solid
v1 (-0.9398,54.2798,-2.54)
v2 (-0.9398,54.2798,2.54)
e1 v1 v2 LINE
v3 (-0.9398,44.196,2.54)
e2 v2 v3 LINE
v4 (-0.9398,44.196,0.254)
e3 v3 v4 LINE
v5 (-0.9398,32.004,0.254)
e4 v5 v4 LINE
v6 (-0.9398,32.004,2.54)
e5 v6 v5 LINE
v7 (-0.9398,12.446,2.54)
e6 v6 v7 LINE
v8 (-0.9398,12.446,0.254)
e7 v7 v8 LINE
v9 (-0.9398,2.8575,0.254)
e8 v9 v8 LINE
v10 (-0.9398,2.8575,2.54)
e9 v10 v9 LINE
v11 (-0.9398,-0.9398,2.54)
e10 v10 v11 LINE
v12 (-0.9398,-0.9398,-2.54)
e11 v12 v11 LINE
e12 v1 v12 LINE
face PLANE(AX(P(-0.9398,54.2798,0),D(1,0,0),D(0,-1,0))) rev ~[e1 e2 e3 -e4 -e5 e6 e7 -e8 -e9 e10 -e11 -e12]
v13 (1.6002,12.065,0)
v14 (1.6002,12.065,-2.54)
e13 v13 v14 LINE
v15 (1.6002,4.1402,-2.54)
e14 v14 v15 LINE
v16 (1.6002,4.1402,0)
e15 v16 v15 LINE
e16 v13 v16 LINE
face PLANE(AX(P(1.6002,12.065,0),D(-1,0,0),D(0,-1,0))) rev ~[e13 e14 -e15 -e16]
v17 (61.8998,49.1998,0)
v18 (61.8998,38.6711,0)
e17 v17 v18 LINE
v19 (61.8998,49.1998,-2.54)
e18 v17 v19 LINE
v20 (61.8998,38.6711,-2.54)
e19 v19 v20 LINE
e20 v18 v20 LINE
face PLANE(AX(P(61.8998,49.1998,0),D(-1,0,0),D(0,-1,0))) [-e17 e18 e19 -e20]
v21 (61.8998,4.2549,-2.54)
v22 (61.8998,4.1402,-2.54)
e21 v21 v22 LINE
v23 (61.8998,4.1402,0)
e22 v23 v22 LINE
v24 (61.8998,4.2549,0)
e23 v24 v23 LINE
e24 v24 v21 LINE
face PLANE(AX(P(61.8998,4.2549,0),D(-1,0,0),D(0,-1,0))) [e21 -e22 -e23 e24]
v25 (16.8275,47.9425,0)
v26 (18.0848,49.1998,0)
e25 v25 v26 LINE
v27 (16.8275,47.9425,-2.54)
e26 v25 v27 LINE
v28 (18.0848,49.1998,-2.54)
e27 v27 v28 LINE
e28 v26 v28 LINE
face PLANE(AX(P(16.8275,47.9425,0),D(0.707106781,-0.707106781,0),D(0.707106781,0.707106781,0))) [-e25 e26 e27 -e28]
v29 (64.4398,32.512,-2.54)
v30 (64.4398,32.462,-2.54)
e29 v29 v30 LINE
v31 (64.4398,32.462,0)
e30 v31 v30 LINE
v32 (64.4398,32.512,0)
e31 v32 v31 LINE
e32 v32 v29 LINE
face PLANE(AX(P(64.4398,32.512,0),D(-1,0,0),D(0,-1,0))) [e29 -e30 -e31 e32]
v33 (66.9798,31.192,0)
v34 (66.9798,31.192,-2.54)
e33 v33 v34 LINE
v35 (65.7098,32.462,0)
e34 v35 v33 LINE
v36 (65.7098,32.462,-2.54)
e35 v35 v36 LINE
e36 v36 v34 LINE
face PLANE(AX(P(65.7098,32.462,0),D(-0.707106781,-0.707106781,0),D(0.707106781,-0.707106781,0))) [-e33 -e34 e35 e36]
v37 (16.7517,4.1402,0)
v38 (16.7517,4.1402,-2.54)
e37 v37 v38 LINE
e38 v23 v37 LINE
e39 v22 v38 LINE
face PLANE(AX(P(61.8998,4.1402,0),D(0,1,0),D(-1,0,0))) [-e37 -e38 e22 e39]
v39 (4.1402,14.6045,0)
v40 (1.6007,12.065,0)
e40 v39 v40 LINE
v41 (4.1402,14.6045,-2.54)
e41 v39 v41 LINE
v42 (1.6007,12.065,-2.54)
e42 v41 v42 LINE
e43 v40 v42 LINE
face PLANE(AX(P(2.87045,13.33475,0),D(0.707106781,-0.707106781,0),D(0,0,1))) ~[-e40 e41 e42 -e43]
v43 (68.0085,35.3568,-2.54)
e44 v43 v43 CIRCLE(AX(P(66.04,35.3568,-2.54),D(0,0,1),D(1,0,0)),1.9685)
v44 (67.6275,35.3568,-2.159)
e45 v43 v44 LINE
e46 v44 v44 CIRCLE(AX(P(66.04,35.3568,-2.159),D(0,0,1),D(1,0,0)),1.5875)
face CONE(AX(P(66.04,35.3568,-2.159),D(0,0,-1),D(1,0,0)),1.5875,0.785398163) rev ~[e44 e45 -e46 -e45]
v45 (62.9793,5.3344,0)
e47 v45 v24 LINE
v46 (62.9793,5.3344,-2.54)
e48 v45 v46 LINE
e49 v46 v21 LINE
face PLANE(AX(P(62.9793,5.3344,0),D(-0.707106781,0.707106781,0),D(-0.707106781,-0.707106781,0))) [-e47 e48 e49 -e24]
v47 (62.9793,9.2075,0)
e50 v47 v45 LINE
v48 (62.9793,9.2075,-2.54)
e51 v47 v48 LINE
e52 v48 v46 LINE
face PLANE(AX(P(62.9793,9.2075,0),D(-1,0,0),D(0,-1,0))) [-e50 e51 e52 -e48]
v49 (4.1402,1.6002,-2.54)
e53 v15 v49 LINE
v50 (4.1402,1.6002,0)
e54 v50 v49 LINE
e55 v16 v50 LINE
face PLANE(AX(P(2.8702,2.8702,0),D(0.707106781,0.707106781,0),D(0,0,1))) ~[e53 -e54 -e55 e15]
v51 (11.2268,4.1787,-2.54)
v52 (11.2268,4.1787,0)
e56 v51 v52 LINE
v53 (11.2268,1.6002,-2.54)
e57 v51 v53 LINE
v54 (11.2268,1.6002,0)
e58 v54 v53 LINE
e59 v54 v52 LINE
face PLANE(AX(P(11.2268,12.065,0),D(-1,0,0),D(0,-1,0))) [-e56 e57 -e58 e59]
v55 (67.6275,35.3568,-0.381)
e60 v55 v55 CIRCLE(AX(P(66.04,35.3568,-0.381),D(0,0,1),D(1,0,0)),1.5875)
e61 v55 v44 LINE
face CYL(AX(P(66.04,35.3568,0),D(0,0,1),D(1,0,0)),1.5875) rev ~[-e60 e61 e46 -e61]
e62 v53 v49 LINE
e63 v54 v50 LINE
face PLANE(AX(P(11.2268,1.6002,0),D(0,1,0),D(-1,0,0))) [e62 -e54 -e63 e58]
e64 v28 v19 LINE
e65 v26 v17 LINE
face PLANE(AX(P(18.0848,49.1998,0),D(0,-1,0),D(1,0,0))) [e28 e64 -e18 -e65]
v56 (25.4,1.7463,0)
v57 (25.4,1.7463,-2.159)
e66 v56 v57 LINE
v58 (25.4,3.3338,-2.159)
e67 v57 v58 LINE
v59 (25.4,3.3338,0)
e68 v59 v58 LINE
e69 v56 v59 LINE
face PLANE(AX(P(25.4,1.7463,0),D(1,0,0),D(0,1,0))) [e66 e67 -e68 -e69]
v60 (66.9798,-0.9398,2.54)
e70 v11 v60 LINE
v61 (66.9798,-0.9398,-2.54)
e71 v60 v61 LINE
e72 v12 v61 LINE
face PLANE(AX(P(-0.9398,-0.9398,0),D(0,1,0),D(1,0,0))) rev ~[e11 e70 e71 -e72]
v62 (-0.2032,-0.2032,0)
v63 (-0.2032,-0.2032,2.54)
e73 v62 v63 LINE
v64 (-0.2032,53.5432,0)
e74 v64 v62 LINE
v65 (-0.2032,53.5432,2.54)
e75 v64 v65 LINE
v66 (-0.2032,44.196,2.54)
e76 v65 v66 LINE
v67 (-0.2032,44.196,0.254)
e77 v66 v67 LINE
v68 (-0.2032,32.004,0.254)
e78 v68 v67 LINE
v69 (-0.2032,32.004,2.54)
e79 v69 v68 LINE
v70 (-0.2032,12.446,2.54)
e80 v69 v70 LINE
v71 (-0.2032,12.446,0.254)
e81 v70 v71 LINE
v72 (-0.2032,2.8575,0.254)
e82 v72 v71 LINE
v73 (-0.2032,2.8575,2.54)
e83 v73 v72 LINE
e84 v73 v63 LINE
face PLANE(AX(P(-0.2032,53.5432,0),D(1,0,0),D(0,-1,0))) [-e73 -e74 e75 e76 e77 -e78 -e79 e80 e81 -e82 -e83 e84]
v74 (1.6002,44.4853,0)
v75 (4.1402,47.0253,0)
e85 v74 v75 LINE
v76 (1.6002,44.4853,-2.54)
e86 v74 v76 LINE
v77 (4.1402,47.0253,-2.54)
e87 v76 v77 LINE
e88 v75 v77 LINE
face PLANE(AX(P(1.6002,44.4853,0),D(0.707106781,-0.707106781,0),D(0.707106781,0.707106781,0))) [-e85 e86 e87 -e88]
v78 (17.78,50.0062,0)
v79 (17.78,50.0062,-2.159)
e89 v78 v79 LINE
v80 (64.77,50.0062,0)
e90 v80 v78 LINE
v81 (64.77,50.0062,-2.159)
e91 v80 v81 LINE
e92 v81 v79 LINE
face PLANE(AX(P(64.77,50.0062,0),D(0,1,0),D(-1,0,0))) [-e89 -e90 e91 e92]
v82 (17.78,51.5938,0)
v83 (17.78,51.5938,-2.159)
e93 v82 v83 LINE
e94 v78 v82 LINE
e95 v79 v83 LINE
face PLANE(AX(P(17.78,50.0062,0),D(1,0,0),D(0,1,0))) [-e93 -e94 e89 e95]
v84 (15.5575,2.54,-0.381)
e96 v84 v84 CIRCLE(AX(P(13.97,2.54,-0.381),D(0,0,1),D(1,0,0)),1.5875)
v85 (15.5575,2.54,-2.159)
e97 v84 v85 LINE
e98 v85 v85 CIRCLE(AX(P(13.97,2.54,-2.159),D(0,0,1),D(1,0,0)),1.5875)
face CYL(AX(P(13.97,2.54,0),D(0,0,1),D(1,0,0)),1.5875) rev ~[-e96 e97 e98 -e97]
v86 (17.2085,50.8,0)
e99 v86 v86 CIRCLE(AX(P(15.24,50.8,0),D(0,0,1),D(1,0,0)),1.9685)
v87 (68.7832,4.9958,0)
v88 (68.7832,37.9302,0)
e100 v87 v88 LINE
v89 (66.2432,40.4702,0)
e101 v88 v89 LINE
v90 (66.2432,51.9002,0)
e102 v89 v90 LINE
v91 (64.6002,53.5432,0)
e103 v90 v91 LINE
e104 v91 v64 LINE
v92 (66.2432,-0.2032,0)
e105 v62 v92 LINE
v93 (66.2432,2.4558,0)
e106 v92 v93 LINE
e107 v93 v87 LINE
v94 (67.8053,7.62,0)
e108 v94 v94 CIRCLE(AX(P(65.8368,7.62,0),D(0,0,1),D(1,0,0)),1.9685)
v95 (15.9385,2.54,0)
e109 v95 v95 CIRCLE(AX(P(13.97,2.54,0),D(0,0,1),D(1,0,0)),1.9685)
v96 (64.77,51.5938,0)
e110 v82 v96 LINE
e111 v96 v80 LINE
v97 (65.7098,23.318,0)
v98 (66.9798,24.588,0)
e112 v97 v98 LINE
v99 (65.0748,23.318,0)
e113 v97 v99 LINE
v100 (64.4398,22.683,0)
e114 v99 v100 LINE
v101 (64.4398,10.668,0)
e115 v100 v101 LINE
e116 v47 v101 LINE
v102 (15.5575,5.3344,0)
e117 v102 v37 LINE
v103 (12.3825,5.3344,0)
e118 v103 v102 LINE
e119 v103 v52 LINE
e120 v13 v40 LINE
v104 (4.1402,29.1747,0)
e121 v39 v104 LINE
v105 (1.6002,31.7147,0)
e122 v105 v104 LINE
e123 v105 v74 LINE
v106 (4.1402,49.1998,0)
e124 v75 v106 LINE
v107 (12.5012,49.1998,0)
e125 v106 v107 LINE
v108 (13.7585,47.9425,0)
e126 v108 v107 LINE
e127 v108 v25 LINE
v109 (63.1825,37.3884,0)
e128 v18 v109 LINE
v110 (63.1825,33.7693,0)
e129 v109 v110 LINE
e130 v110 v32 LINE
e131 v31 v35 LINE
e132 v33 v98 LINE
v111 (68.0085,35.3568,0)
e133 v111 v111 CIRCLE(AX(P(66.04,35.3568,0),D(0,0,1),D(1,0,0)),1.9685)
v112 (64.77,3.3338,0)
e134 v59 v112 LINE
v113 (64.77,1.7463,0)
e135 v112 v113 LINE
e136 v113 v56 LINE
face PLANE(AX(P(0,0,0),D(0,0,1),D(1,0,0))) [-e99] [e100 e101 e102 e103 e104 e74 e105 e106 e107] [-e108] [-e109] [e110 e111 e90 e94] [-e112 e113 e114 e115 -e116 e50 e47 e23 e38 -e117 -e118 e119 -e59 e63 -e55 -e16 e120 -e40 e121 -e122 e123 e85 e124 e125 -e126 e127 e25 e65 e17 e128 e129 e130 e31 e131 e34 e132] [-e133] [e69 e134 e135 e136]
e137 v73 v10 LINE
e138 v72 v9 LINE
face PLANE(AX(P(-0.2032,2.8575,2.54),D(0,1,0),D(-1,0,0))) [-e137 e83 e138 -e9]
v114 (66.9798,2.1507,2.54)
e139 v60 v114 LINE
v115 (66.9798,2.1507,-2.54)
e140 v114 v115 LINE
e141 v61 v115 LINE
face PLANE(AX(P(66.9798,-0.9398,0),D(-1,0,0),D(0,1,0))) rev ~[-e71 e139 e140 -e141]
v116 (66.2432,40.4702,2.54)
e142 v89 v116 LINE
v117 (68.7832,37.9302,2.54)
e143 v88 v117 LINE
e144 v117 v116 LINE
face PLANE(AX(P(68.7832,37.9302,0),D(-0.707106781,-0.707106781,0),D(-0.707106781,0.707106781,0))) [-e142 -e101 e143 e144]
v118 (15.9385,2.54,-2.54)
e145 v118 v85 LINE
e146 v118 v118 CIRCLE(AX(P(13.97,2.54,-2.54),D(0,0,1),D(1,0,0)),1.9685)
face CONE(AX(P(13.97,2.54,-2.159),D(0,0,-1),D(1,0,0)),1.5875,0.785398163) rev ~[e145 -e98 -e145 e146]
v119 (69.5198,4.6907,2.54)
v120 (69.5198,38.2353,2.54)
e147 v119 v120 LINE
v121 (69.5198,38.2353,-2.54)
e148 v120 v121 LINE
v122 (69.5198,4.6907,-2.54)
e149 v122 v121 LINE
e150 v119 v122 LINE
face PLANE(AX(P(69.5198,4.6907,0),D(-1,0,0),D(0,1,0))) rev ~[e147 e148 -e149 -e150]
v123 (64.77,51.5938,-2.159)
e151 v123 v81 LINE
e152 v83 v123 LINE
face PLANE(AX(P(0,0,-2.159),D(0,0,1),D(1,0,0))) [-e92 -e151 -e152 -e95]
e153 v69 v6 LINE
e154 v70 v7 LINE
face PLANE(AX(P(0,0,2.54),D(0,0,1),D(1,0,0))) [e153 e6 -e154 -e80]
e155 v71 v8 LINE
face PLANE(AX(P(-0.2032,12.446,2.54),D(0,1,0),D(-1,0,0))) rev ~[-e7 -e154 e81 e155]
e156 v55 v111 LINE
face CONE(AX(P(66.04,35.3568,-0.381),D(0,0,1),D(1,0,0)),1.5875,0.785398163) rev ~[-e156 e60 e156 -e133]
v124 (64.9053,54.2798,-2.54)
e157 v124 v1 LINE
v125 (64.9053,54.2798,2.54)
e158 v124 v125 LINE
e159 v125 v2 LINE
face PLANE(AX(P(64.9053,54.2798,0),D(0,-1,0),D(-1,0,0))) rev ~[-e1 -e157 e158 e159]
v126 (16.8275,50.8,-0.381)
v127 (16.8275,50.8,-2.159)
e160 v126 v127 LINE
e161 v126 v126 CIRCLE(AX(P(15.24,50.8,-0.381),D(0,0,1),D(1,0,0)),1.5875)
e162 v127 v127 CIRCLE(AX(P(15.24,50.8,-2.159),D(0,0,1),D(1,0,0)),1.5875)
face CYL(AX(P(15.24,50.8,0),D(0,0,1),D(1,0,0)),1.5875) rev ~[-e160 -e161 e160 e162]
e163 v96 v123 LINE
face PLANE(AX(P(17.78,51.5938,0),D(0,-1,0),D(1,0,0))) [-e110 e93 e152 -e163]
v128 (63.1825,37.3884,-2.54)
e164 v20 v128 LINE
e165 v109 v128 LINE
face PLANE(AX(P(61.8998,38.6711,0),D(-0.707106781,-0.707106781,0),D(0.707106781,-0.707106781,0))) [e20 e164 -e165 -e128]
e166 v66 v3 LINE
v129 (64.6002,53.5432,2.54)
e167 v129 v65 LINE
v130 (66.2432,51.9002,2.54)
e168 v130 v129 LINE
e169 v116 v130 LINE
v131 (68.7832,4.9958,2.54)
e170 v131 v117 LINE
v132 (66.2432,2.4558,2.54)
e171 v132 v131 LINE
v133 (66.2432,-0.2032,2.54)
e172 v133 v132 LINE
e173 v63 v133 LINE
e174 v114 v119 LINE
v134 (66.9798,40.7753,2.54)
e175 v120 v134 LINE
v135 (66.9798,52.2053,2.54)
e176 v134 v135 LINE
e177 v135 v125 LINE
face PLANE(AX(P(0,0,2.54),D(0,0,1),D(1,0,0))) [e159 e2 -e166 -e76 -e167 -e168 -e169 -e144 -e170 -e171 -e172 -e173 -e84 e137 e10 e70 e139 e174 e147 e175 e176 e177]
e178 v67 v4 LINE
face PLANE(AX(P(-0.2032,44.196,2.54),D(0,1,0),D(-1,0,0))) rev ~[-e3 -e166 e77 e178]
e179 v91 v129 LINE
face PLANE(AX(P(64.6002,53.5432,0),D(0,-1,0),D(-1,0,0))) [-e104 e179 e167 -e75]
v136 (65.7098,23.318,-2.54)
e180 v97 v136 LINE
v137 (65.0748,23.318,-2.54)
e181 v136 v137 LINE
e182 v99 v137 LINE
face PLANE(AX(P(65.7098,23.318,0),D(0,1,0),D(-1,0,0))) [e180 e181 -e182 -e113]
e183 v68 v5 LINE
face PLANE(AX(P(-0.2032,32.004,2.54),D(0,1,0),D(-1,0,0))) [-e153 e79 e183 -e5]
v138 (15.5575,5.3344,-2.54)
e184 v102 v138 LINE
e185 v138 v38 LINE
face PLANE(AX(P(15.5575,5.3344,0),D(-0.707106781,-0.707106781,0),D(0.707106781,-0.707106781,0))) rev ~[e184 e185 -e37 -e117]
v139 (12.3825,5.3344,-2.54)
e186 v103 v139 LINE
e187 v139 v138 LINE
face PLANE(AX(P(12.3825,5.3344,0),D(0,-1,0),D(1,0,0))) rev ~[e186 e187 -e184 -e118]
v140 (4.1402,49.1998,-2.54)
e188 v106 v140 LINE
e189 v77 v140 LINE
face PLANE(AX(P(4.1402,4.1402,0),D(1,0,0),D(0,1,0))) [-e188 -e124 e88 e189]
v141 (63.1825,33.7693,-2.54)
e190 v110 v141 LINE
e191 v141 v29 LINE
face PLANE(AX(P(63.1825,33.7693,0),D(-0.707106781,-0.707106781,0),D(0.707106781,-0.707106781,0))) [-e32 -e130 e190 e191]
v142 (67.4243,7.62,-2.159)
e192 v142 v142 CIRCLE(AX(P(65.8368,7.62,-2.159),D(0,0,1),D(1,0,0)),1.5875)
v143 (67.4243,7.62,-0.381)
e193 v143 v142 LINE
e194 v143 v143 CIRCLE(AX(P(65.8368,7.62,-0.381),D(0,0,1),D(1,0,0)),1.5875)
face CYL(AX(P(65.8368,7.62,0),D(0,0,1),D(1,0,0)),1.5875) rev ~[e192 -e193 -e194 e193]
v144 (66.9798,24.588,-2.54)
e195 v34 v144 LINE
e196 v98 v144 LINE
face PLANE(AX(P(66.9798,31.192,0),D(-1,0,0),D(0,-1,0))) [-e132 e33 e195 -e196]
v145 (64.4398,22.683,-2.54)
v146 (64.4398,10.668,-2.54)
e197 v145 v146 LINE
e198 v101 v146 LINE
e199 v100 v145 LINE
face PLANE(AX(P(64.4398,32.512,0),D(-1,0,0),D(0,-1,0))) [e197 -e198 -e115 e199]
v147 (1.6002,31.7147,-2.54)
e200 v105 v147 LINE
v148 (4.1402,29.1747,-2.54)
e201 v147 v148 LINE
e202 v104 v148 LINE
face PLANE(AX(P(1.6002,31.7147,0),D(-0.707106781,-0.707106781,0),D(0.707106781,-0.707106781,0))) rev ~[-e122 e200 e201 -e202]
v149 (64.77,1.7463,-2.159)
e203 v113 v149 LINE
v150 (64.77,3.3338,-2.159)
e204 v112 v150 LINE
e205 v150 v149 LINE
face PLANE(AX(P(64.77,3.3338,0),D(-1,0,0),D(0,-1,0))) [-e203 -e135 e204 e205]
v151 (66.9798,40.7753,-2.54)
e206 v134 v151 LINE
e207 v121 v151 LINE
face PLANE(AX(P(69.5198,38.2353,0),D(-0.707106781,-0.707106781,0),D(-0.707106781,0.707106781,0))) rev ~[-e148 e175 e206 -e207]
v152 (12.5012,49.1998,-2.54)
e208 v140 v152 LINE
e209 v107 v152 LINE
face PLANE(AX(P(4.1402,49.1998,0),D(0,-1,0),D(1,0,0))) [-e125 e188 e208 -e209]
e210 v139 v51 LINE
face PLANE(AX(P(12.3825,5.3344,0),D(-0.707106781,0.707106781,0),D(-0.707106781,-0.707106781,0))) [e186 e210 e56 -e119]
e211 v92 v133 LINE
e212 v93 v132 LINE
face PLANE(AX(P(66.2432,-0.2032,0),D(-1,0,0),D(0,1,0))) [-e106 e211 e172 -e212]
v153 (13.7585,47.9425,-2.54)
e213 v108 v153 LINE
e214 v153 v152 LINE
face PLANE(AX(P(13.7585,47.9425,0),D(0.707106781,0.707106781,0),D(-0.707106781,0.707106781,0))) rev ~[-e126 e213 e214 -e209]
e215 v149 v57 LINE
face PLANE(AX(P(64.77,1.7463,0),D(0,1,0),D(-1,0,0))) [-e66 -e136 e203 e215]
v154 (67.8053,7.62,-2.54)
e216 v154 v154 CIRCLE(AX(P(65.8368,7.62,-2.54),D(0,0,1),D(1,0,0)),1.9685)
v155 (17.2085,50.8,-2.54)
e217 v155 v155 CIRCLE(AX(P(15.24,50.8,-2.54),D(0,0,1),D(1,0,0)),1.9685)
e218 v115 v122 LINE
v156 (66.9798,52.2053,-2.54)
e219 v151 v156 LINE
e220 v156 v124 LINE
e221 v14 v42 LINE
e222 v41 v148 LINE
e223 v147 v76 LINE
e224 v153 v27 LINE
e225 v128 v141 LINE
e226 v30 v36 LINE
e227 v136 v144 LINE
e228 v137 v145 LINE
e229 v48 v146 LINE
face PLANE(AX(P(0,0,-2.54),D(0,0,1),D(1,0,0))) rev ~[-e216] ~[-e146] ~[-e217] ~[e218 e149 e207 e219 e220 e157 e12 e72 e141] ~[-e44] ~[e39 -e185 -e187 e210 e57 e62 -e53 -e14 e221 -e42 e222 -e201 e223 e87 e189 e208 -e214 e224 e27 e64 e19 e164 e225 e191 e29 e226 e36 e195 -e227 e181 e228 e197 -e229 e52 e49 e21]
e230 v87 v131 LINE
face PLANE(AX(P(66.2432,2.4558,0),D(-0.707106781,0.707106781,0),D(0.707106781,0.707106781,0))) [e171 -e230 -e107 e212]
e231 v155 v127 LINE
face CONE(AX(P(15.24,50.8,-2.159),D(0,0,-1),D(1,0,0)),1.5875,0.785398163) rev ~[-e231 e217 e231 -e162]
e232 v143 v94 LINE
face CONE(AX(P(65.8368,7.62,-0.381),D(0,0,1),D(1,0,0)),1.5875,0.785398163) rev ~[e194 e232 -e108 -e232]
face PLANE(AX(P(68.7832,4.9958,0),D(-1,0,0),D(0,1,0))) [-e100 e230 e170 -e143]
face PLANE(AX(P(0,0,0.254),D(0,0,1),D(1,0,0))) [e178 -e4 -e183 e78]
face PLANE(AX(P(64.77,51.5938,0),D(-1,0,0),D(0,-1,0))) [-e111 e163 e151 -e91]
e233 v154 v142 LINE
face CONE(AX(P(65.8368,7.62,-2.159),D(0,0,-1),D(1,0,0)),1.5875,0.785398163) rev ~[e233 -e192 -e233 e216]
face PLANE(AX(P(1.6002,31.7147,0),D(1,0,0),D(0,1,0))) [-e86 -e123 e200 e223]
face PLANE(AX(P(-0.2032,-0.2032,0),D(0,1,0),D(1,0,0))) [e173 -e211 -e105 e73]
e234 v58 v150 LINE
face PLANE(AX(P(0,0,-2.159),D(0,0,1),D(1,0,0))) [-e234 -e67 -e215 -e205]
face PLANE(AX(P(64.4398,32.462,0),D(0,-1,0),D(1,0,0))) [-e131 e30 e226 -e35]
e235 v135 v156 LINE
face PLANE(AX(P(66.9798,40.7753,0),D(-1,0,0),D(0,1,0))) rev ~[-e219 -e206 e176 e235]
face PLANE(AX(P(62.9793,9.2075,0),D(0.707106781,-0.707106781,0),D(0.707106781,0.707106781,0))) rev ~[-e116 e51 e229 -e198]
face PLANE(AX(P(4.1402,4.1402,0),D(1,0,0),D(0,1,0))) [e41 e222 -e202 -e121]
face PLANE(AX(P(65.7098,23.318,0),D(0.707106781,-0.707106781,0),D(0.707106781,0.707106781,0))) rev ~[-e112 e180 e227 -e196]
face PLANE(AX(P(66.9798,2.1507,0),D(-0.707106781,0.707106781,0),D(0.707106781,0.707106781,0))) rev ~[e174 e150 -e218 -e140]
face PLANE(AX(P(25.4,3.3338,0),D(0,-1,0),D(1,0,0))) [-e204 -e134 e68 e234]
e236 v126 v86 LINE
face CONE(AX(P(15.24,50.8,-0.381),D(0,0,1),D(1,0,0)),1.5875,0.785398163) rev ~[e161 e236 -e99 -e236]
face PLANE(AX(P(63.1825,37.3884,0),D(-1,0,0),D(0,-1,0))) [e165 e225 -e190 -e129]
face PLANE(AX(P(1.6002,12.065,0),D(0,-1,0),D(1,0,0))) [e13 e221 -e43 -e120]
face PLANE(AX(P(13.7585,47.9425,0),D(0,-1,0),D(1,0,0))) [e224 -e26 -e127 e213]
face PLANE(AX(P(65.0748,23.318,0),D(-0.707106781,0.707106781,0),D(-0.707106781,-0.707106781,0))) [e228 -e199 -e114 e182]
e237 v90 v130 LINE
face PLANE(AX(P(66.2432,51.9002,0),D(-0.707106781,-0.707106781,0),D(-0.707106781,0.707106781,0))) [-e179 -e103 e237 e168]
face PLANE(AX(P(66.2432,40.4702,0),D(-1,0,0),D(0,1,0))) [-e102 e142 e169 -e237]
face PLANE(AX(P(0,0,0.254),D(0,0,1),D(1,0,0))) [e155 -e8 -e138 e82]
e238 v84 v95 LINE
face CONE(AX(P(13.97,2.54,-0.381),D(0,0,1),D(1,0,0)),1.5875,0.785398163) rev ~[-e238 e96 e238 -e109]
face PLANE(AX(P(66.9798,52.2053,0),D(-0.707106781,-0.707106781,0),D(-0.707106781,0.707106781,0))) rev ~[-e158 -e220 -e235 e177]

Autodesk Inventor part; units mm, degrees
ref_plane "YZ Plane" through (0, 0, 0) normal (1, 0, 0) x (0, 1, 0)
ref_plane "XZ Plane" through (0, 0, 0) normal (0, 1, 0) x (-1, 0, 0)
ref_plane "XY Plane" through (0, 0, 0) normal (0, 0, 1) x (1, 0, 0)
sketch "Sketch1" plane through (0, 0, 0) normal (0, 0, 1) x (1, 0, 0)
  line L0 (0, 53.34) -> (64.516, 53.34)
  line L1 (64.516, 53.34) -> (66.04, 51.816)
  line L2 (66.04, 51.816) -> (66.04, 40.386)
  line L3 (66.04, 40.386) -> (68.58, 37.846)
  line L4 (68.58, 37.846) -> (68.58, 5.08)
  line L5 (66.04, 0) -> (0, 0)
  line L6 (0, 0) -> (0, 53.34)
  line L7 (68.58, 5.08) -> (66.04, 2.54)
  line L8 (66.04, 2.54) -> (66.04, 0)
  line L9 (64.9053, 54.2798) -> (-0.9398, 54.2798)
  line L10 (-0.9398, 54.2798) -> (-0.9398, -0.9398)
  line L11 (-0.9398, -0.9398) -> (66.9798, -0.9398)
  line L12 (66.9798, -0.9398) -> (66.9798, 2.1507)
  line L13 (66.9798, 2.1507) -> (69.5198, 4.6907)
  line L14 (69.5198, 4.6907) -> (69.5198, 38.2353)
  line L15 (69.5198, 38.2353) -> (66.9798, 40.7753)
  line L16 (66.9798, 40.7753) -> (66.9798, 52.2053)
  line L17 (66.9798, 52.2053) -> (64.9053, 54.2798)
  line L18 (64.6002, 53.5432) -> (-0.2032, 53.5432)
  line L19 (-0.2032, 53.5432) -> (-0.2032, -0.2032)
  line L20 (-0.2032, -0.2032) -> (66.2432, -0.2032)
  line L21 (66.2432, -0.2032) -> (66.2432, 2.4558)
  line L22 (66.2432, 2.4558) -> (68.7832, 4.9958)
  line L23 (68.7832, 4.9958) -> (68.7832, 37.9302)
  line L24 (68.7832, 37.9302) -> (66.2432, 40.4702)
  line L25 (66.2432, 40.4702) -> (66.2432, 51.9002)
  line L26 (66.2432, 51.9002) -> (64.6002, 53.5432)
  point P0 (0, 0)
  dimension "d0" = 64.516
  dimension "d1" = 53.34
  dimension "d4" = 66.04
  dimension "d5" = 51.816
  dimension "d6" = 68.58
  dimension "d7" = 40.386
  dimension "d8" = 37.846
  dimension "d9" = 66.04
  dimension "d10" = 2.54
  dimension "d11" = 5.08
  dimension "d15" = 0.2032
  dimension "d18" = 0.7366
extrude "Extrusion2" add sketch "Sketch1" along normal blind 2.54 contours L17 L16 L15 L14 L13 L12 L11 L10 L9
sketch "Sketch2" plane through (0, 0, 0) normal (0, 0, 1) x (1, 0, 0)
  line L0 (0, 53.34) -> (64.516, 53.34)
  line L1 (64.516, 53.34) -> (66.04, 51.816)
  line L2 (66.04, 51.816) -> (66.04, 40.386)
  line L3 (66.04, 40.386) -> (68.58, 37.846)
  line L4 (68.58, 37.846) -> (68.58, 5.08)
  line L5 (66.04, 0) -> (0, 0)
  line L6 (0, 0) -> (0, 53.34)
  line L7 (68.58, 5.08) -> (66.04, 2.54)
  line L8 (66.04, 2.54) -> (66.04, 0)
  line L9 (64.9053, 54.2798) -> (-0.9398, 54.2798)
  line L10 (-0.9398, 54.2798) -> (-0.9398, -0.9398)
  line L11 (-0.9398, -0.9398) -> (66.9798, -0.9398)
  line L12 (66.9798, -0.9398) -> (66.9798, 2.1507)
  line L13 (66.9798, 2.1507) -> (69.5198, 4.6907)
  line L14 (69.5198, 4.6907) -> (69.5198, 38.2353)
  line L15 (69.5198, 38.2353) -> (66.9798, 40.7753)
  line L16 (66.9798, 40.7753) -> (66.9798, 52.2053)
  line L17 (66.9798, 52.2053) -> (64.9053, 54.2798)
  line L18 (64.6002, 53.5432) -> (-0.2032, 53.5432)
  line L19 (-0.2032, 53.5432) -> (-0.2032, -0.2032)
  line L20 (-0.2032, -0.2032) -> (66.2432, -0.2032)
  line L21 (66.2432, -0.2032) -> (66.2432, 2.4558)
  line L22 (66.2432, 2.4558) -> (68.7832, 4.9958)
  line L23 (68.7832, 4.9958) -> (68.7832, 37.9302)
  line L24 (68.7832, 37.9302) -> (66.2432, 40.4702)
  line L25 (66.2432, 40.4702) -> (66.2432, 51.9002)
  line L26 (66.2432, 51.9002) -> (64.6002, 53.5432)
  line L27 (61.8998, 49.1998) -> (61.8998, 38.6711)
  line L28 (61.8998, 38.6711) -> (63.1825, 37.3884)
  line L29 (62.9793, 5.3344) -> (61.8998, 4.2549)
  line L30 (61.8998, 4.2549) -> (61.8998, 4.1402)
  line L31 (4.1402, 4.1402) -> (4.1402, 49.1998)
  line L32 (63.627, 30.43) -> (66.167, 30.43) construction
  line L33 (66.167, 30.43) -> (66.167, 25.35) construction
  line L34 (66.167, 25.35) -> (63.627, 25.35) construction
  line L35 (63.627, 25.35) -> (63.627, 30.43) construction
  circle A0 centre (15.24, 50.8) radius 1.5875
  circle A1 centre (66.04, 35.3568) radius 1.5875
  circle A2 centre (65.8368, 7.62) radius 1.5875
  circle A3 centre (13.97, 2.54) radius 1.5875
  line L36 (13.7585, 47.9425) -> (16.8275, 47.9425)
  line L37 (16.8275, 47.9425) -> (18.0848, 49.1998)
  line L38 (13.7585, 47.9425) -> (12.5012, 49.1998)
  line L39 (4.1402, 49.1998) -> (12.5012, 49.1998)
  line L40 (18.0848, 49.1998) -> (61.8998, 49.1998)
  line L41 (63.1825, 37.3884) -> (63.1825, 33.7693)
  line L42 (63.1825, 33.7693) -> (64.4398, 32.512)
  line L43 (62.9793, 9.2075) -> (62.9793, 5.3344)
  line L44 (62.9793, 9.2075) -> (64.4398, 10.668)
  line L45 (64.4398, 32.512) -> (64.4398, 10.668)
  line L46 (12.3825, 5.3344) -> (15.5575, 5.3344)
  line L47 (15.5575, 5.3344) -> (16.7517, 4.1402)
  line L48 (12.3825, 5.3344) -> (11.1883, 4.1402)
  line L49 (61.8998, 4.1402) -> (16.7517, 4.1402)
  line L50 (11.1883, 4.1402) -> (4.1402, 4.1402)
  point P0 (0, 0)
  point P1 (0, 1.4137)
  point P2 (64.4398, 6.7949)
  dimension "d19" = 64.516
  dimension "d20" = 53.34
  dimension "d21" = 66.04
  dimension "d22" = 51.816
  dimension "d23" = 68.58
  dimension "d24" = 40.386
  dimension "d25" = 37.846
  dimension "d26" = 66.04
  dimension "d27" = 2.54
  dimension "d28" = 5.08
  dimension "d29" = 0.2032
  dimension "d30" = 0.7366
  dimension "d56" = 30.43
  dimension "d57" = 63.627
  dimension "d58" = 5.08
  dimension "d61" = 2.54
  dimension "d70" = 13.97
  dimension "d71" = 2.54
  dimension "d72" = 3.175
  dimension "d73" = 50.8
  dimension "d74" = 3.175
  dimension "d75" = 15.24
  dimension "d76" = 66.04
  dimension "d77" = 35.56
  dimension "d78" = 3.175
  dimension "d79" = 3.175
  dimension "d80" = 66.04
  dimension "d81" = 7.62
  dimension "d135" = 2.54
  dimension "d136" = 1.27
  dimension "d137" = 2.8575
  dimension "d138" = 1.27
extrude "Extrusion3" add sketch "Sketch2" against normal blind 2.54 contours L0 L1 L2 L3 L4 L7 L8 L5 L6 | L17 L16 L15 L14 L13 L12 L11 L10 L9 | L26 L25 L24 L23 L22 L21 L20 L19 L18
sketch "Sketch4" plane through (0, 0, 2.54) normal (0, 0, 1) x (1, 0, 0)
  line L0 (-0.2032, -0.2032) -> (-0.2032, 53.5432) projected
  line L1 (-0.9398, -0.9398) -> (-0.9398, 54.2798) projected
  line L2 (-0.2032, 12.446) -> (-0.9398, 12.446)
  line L3 (-0.2032, 2.8575) -> (-0.9398, 2.8575)
  line L4 (-0.2032, 32.004) -> (-0.9398, 32.004)
  line L5 (-0.2032, 44.196) -> (-0.9398, 44.196)
  point P0 (0, 0)
  dimension "d35" = 12.446
  dimension "d36" = 2.8575
  dimension "d37" = 32.004
  dimension "d38" = 44.196
extrude "Extrusion4" cut sketch "Sketch4" against normal blind 2.286 contours L3 L1 L2 L0 | L4 L1 L5 L0
sketch "Sketch5" plane through (0, 0, 0) normal (0, 0, 1) x (1, 0, 0)
  line L0 (25.4, 3.3338) -> (64.77, 3.3338)
  line L1 (64.77, 3.3338) -> (64.77, 1.7463)
  line L2 (64.77, 1.7463) -> (25.4, 1.7463)
  line L3 (25.4, 1.7463) -> (25.4, 3.3338)
  line L4 (17.78, 51.5938) -> (64.77, 51.5938)
  line L5 (64.77, 51.5938) -> (64.77, 50.0062)
  line L6 (64.77, 50.0062) -> (17.78, 50.0062)
  line L7 (17.78, 50.0062) -> (17.78, 51.5938)
  line L8 (-0.2032, 53.5432) -> (-0.2032, -0.2032) projected
  line L9 (-0.2032, 12.065) -> (11.2268, 12.065)
  line L10 (11.2268, 12.065) -> (11.2268, 1.6002)
  line L11 (11.2268, 1.6002) -> (-0.2032, 1.6002)
  line L12 (-0.2032, 1.6002) -> (-0.2032, 12.065)
  line L13 (1.6002, 12.065) -> (1.6002, 1.6002)
  line L14 (63.627, 30.43) -> (66.167, 30.43) construction
  line L15 (63.627, 25.35) -> (63.627, 30.43) construction
  line L16 (66.167, 30.43) -> (66.167, 25.35) construction
  line L17 (66.167, 25.35) -> (63.627, 25.35) construction
  line L18 (4.1402, 4.1402) -> (4.1402, 49.1998) projected
  line L19 (4.1402, 49.1998) -> (12.5012, 49.1998) projected
  line L20 (61.8998, 49.1998) -> (61.8998, 38.6711) projected
  line L21 (61.8998, 38.6711) -> (63.1825, 37.3884) projected
  line L22 (64.4398, 32.512) -> (64.4398, 10.668) projected
  line L23 (62.9793, 5.3344) -> (61.8998, 4.2549) projected
  line L24 (61.8998, 4.2549) -> (61.8998, 4.1402) projected
  line L25 (61.8998, 4.1402) -> (16.7517, 4.1402) projected
  line L26 (66.2432, 51.9002) -> (64.6002, 53.5432) projected
  line L27 (64.6002, 53.5432) -> (-0.2032, 53.5432) projected
  line L28 (-0.2032, 53.5432) -> (-0.2032, -0.2032) projected
  line L29 (-0.2032, -0.2032) -> (66.2432, -0.2032) projected
  line L30 (66.2432, -0.2032) -> (66.2432, 2.4558) projected
  line L31 (66.2432, 2.4558) -> (68.7832, 4.9958) projected
  line L32 (68.7832, 4.9958) -> (68.7832, 37.9302) projected
  line L33 (68.7832, 37.9302) -> (66.2432, 40.4702) projected
  line L34 (66.2432, 40.4702) -> (66.2432, 51.9002) projected
  line L35 (64.4398, 32.512) -> (64.4398, 10.668) projected
  line L36 (64.4398, 33.732) -> (66.9798, 31.192)
  line L37 (64.4398, 22.048) -> (66.9798, 24.588)
  line L38 (66.9798, 31.192) -> (66.9798, 24.588)
  line L39 (64.4398, 33.732) -> (64.4398, 22.048)
  line L40 (61.8998, 4.1402) -> (16.7517, 4.1402) projected
  line L41 (4.1402, 4.1402) -> (4.1402, 49.1998) projected
  line L42 (1.6002, 44.4853) -> (4.1402, 47.0253)
  line L43 (66.2432, 40.4702) -> (66.2432, 51.9002) projected
  line L44 (1.6002, 31.7147) -> (4.1402, 29.1747)
  line L45 (1.6002, 31.7147) -> (1.6002, 44.4853)
  line L46 (4.1402, 47.0253) -> (4.1402, 29.1747)
  line L47 (12.5012, 49.1998) -> (13.7585, 47.9425) projected
  line L48 (13.7585, 47.9425) -> (16.8275, 47.9425) projected
  line L49 (16.8275, 47.9425) -> (18.0848, 49.1998) projected
  line L50 (18.0848, 49.1998) -> (61.8998, 49.1998) projected
  line L51 (63.1825, 37.3884) -> (63.1825, 33.7693) projected
  line L52 (63.1825, 33.7693) -> (64.4398, 32.512) projected
  line L53 (64.4398, 10.668) -> (62.9793, 9.2075) projected
  line L54 (62.9793, 9.2075) -> (62.9793, 5.3344) projected
  line L55 (11.1883, 4.1402) -> (4.1402, 4.1402) projected
  line L56 (16.7517, 4.1402) -> (15.5575, 5.3344) projected
  line L57 (15.5575, 5.3344) -> (12.3825, 5.3344) projected
  line L58 (12.3825, 5.3344) -> (11.1883, 4.1402) projected
  point P0 (0, 0)
  point P1 (64.4398, 6.7949)
  point P2 (64.4398, 36.1311)
  point P3 (64.4398, 31.192)
  point P4 (64.4398, 31.192)
  point P5 (64.4398, 24.588)
  point P6 (64.4398, 24.588)
  dimension "d41" = 1.5875
  dimension "d42" = 25.4
  dimension "d43" = 64.77
  dimension "d44" = 17.78
  dimension "d45" = 64.77
  dimension "d46" = 1.5875
  dimension "d47" = 51.5938
  dimension "d48" = 1.7463
  dimension "d51" = 0
  dimension "d52" = 12.065
  dimension "d54" = 11.43
  dimension "d66" = 2.54
  dimension "d67" = 2.54
  dimension "d68" = 2.54
  dimension "d69" = 2.54
  dimension "d97" = 2.54
  dimension "d101" = 2.54
  dimension "d102" = 2.54
extrude "Extrusion5" cut sketch "Sketch5" against normal blind 2.159 contours L0 L1 L2 L3 | L4 L5 L6 L7
sketch "Sketch7" plane through (0, 0, 0) normal (0, 0, 1) x (1, 0, 0)
  line L0 (25.4, 3.3338) -> (64.77, 3.3338)
  line L1 (64.77, 3.3338) -> (64.77, 1.7463)
  line L2 (64.77, 1.7463) -> (25.4, 1.7463)
  line L3 (25.4, 1.7463) -> (25.4, 3.3338)
  line L4 (17.78, 51.5938) -> (64.77, 51.5938)
  line L5 (64.77, 51.5938) -> (64.77, 50.0062)
  line L6 (64.77, 50.0062) -> (17.78, 50.0062)
  line L7 (17.78, 50.0062) -> (17.78, 51.5938)
  line L8 (-0.2032, 53.5432) -> (-0.2032, -0.2032)
  line L9 (-0.2032, 12.065) -> (11.2268, 12.065)
  line L10 (11.2268, 12.065) -> (11.2268, 1.6002)
  line L11 (11.2268, 1.6002) -> (-0.2032, 1.6002)
  line L12 (-0.2032, 1.6002) -> (-0.2032, 12.065)
  line L13 (1.6002, 12.065) -> (1.6002, 1.6002)
  line L14 (63.627, 30.43) -> (66.167, 30.43) construction
  line L15 (63.627, 25.35) -> (63.627, 30.43) construction
  line L16 (66.167, 30.43) -> (66.167, 25.35) construction
  line L17 (66.167, 25.35) -> (63.627, 25.35) construction
  line L18 (4.1402, 4.1402) -> (4.1402, 49.1998)
  line L19 (4.1402, 49.1998) -> (61.8998, 49.1998)
  line L20 (61.8998, 49.1998) -> (61.8998, 38.6711)
  line L21 (61.8998, 38.6711) -> (64.4398, 36.1311)
  line L22 (64.4398, 6.866) -> (64.4398, 6.7949)
  line L23 (64.4398, 6.7949) -> (61.8998, 4.2549)
  line L24 (61.8998, 4.2549) -> (61.8998, 4.1402)
  line L25 (61.8998, 4.1402) -> (4.1402, 4.1402)
  line L26 (66.2432, 51.9002) -> (64.6002, 53.5432)
  line L27 (64.6002, 53.5432) -> (-0.2032, 53.5432)
  line L28 (-0.2032, 53.5432) -> (-0.2032, -0.2032)
  line L29 (-0.2032, -0.2032) -> (66.2432, -0.2032)
  line L30 (66.2432, -0.2032) -> (66.2432, 2.4558)
  line L31 (66.2432, 2.4558) -> (68.7832, 4.9958)
  line L32 (68.7832, 4.9958) -> (68.7832, 37.9302)
  line L33 (68.7832, 37.9302) -> (66.2432, 40.4702)
  line L34 (66.2432, 40.4702) -> (66.2432, 51.9002)
  line L35 (64.4398, 36.1311) -> (64.4398, 6.7949)
  line L36 (65.7098, 32.462) -> (66.9798, 31.192)
  line L37 (65.7098, 23.318) -> (66.9798, 24.588)
  line L38 (66.9798, 31.192) -> (66.9798, 24.588)
  line L39 (64.4398, 33.732) -> (64.4398, 22.048)
  line L40 (61.8998, 4.1402) -> (4.1402, 4.1402)
  line L41 (4.1402, 4.1402) -> (4.1402, 49.1998)
  line L42 (1.6002, 44.4853) -> (4.1402, 47.0253)
  line L43 (66.2432, 40.4702) -> (66.2432, 51.9002)
  line L44 (1.6002, 31.7147) -> (4.1402, 29.1747)
  line L45 (1.6002, 31.7147) -> (1.6002, 44.4853)
  line L46 (4.1402, 47.0253) -> (4.1402, 29.1747)
  arc A0 (64.4398, 8.374) -> (64.4398, 6.866) centre (65.8368, 7.62) ccw
  line L47 (64.4398, 36.1311) -> (64.4398, 8.374)
  line L48 (64.4398, 32.462) -> (65.7098, 32.462)
  line L49 (65.7098, 23.318) -> (65.0748, 23.318)
  line L50 (65.0748, 23.318) -> (64.4398, 22.683)
  point P0 (0, 0)
  point P1 (0, 0)
  point P2 (64.4398, 31.192)
  point P3 (64.4398, 31.192)
  point P4 (64.4398, 24.588)
  point P5 (64.4398, 24.588)
  dimension "d106" = 1.5875
  dimension "d107" = 25.4
  dimension "d108" = 64.77
  dimension "d109" = 17.78
  dimension "d110" = 64.77
  dimension "d111" = 1.5875
  dimension "d112" = 51.5938
  dimension "d113" = 1.7463
  dimension "d114" = 0
  dimension "d115" = 12.065
  dimension "d116" = 11.43
  dimension "d117" = 2.54
  dimension "d118" = 2.54
  dimension "d119" = 2.54
  dimension "d120" = 2.54
  dimension "d121" = 2.54
  dimension "d122" = 2.54
  dimension "d123" = 2.54
extrude "Extrusion7" cut sketch "Sketch7" against normal through all contours L9 L18 L25 L10 L11 L13 | L9 L10 L25 L18 | L44 L45 L42 L18 | L48 L36 L38 L37 L49 L50 L35
chamfer "Chamfer3" distance 2.54 angle 45 1 edges at (4.1402, 12.065, -1.27)
chamfer "Chamfer5" distance 2.54 angle 45 1 edges at (1.6002, 1.6002, -1.27)
chamfer "Chamfer6" distance 0.381 angle 45 8 edges at (64.4525, 35.3568, 0) (64.2493, 7.62, 0) (12.3825, 2.54, 0) (13.6525, 50.8, 0) (13.6525, 50.8, -2.54) (12.3825, 2.54, -2.54) (64.2493, 7.62, -2.54) (64.4525, 35.3568, -2.54)
equation "\"d67\" = d66"
equation "\"d69\" = d68"
equation "\"d97\" = d101"
equation "\"d102\" = d101"
properties part number "Arduino Bumper 0006"
